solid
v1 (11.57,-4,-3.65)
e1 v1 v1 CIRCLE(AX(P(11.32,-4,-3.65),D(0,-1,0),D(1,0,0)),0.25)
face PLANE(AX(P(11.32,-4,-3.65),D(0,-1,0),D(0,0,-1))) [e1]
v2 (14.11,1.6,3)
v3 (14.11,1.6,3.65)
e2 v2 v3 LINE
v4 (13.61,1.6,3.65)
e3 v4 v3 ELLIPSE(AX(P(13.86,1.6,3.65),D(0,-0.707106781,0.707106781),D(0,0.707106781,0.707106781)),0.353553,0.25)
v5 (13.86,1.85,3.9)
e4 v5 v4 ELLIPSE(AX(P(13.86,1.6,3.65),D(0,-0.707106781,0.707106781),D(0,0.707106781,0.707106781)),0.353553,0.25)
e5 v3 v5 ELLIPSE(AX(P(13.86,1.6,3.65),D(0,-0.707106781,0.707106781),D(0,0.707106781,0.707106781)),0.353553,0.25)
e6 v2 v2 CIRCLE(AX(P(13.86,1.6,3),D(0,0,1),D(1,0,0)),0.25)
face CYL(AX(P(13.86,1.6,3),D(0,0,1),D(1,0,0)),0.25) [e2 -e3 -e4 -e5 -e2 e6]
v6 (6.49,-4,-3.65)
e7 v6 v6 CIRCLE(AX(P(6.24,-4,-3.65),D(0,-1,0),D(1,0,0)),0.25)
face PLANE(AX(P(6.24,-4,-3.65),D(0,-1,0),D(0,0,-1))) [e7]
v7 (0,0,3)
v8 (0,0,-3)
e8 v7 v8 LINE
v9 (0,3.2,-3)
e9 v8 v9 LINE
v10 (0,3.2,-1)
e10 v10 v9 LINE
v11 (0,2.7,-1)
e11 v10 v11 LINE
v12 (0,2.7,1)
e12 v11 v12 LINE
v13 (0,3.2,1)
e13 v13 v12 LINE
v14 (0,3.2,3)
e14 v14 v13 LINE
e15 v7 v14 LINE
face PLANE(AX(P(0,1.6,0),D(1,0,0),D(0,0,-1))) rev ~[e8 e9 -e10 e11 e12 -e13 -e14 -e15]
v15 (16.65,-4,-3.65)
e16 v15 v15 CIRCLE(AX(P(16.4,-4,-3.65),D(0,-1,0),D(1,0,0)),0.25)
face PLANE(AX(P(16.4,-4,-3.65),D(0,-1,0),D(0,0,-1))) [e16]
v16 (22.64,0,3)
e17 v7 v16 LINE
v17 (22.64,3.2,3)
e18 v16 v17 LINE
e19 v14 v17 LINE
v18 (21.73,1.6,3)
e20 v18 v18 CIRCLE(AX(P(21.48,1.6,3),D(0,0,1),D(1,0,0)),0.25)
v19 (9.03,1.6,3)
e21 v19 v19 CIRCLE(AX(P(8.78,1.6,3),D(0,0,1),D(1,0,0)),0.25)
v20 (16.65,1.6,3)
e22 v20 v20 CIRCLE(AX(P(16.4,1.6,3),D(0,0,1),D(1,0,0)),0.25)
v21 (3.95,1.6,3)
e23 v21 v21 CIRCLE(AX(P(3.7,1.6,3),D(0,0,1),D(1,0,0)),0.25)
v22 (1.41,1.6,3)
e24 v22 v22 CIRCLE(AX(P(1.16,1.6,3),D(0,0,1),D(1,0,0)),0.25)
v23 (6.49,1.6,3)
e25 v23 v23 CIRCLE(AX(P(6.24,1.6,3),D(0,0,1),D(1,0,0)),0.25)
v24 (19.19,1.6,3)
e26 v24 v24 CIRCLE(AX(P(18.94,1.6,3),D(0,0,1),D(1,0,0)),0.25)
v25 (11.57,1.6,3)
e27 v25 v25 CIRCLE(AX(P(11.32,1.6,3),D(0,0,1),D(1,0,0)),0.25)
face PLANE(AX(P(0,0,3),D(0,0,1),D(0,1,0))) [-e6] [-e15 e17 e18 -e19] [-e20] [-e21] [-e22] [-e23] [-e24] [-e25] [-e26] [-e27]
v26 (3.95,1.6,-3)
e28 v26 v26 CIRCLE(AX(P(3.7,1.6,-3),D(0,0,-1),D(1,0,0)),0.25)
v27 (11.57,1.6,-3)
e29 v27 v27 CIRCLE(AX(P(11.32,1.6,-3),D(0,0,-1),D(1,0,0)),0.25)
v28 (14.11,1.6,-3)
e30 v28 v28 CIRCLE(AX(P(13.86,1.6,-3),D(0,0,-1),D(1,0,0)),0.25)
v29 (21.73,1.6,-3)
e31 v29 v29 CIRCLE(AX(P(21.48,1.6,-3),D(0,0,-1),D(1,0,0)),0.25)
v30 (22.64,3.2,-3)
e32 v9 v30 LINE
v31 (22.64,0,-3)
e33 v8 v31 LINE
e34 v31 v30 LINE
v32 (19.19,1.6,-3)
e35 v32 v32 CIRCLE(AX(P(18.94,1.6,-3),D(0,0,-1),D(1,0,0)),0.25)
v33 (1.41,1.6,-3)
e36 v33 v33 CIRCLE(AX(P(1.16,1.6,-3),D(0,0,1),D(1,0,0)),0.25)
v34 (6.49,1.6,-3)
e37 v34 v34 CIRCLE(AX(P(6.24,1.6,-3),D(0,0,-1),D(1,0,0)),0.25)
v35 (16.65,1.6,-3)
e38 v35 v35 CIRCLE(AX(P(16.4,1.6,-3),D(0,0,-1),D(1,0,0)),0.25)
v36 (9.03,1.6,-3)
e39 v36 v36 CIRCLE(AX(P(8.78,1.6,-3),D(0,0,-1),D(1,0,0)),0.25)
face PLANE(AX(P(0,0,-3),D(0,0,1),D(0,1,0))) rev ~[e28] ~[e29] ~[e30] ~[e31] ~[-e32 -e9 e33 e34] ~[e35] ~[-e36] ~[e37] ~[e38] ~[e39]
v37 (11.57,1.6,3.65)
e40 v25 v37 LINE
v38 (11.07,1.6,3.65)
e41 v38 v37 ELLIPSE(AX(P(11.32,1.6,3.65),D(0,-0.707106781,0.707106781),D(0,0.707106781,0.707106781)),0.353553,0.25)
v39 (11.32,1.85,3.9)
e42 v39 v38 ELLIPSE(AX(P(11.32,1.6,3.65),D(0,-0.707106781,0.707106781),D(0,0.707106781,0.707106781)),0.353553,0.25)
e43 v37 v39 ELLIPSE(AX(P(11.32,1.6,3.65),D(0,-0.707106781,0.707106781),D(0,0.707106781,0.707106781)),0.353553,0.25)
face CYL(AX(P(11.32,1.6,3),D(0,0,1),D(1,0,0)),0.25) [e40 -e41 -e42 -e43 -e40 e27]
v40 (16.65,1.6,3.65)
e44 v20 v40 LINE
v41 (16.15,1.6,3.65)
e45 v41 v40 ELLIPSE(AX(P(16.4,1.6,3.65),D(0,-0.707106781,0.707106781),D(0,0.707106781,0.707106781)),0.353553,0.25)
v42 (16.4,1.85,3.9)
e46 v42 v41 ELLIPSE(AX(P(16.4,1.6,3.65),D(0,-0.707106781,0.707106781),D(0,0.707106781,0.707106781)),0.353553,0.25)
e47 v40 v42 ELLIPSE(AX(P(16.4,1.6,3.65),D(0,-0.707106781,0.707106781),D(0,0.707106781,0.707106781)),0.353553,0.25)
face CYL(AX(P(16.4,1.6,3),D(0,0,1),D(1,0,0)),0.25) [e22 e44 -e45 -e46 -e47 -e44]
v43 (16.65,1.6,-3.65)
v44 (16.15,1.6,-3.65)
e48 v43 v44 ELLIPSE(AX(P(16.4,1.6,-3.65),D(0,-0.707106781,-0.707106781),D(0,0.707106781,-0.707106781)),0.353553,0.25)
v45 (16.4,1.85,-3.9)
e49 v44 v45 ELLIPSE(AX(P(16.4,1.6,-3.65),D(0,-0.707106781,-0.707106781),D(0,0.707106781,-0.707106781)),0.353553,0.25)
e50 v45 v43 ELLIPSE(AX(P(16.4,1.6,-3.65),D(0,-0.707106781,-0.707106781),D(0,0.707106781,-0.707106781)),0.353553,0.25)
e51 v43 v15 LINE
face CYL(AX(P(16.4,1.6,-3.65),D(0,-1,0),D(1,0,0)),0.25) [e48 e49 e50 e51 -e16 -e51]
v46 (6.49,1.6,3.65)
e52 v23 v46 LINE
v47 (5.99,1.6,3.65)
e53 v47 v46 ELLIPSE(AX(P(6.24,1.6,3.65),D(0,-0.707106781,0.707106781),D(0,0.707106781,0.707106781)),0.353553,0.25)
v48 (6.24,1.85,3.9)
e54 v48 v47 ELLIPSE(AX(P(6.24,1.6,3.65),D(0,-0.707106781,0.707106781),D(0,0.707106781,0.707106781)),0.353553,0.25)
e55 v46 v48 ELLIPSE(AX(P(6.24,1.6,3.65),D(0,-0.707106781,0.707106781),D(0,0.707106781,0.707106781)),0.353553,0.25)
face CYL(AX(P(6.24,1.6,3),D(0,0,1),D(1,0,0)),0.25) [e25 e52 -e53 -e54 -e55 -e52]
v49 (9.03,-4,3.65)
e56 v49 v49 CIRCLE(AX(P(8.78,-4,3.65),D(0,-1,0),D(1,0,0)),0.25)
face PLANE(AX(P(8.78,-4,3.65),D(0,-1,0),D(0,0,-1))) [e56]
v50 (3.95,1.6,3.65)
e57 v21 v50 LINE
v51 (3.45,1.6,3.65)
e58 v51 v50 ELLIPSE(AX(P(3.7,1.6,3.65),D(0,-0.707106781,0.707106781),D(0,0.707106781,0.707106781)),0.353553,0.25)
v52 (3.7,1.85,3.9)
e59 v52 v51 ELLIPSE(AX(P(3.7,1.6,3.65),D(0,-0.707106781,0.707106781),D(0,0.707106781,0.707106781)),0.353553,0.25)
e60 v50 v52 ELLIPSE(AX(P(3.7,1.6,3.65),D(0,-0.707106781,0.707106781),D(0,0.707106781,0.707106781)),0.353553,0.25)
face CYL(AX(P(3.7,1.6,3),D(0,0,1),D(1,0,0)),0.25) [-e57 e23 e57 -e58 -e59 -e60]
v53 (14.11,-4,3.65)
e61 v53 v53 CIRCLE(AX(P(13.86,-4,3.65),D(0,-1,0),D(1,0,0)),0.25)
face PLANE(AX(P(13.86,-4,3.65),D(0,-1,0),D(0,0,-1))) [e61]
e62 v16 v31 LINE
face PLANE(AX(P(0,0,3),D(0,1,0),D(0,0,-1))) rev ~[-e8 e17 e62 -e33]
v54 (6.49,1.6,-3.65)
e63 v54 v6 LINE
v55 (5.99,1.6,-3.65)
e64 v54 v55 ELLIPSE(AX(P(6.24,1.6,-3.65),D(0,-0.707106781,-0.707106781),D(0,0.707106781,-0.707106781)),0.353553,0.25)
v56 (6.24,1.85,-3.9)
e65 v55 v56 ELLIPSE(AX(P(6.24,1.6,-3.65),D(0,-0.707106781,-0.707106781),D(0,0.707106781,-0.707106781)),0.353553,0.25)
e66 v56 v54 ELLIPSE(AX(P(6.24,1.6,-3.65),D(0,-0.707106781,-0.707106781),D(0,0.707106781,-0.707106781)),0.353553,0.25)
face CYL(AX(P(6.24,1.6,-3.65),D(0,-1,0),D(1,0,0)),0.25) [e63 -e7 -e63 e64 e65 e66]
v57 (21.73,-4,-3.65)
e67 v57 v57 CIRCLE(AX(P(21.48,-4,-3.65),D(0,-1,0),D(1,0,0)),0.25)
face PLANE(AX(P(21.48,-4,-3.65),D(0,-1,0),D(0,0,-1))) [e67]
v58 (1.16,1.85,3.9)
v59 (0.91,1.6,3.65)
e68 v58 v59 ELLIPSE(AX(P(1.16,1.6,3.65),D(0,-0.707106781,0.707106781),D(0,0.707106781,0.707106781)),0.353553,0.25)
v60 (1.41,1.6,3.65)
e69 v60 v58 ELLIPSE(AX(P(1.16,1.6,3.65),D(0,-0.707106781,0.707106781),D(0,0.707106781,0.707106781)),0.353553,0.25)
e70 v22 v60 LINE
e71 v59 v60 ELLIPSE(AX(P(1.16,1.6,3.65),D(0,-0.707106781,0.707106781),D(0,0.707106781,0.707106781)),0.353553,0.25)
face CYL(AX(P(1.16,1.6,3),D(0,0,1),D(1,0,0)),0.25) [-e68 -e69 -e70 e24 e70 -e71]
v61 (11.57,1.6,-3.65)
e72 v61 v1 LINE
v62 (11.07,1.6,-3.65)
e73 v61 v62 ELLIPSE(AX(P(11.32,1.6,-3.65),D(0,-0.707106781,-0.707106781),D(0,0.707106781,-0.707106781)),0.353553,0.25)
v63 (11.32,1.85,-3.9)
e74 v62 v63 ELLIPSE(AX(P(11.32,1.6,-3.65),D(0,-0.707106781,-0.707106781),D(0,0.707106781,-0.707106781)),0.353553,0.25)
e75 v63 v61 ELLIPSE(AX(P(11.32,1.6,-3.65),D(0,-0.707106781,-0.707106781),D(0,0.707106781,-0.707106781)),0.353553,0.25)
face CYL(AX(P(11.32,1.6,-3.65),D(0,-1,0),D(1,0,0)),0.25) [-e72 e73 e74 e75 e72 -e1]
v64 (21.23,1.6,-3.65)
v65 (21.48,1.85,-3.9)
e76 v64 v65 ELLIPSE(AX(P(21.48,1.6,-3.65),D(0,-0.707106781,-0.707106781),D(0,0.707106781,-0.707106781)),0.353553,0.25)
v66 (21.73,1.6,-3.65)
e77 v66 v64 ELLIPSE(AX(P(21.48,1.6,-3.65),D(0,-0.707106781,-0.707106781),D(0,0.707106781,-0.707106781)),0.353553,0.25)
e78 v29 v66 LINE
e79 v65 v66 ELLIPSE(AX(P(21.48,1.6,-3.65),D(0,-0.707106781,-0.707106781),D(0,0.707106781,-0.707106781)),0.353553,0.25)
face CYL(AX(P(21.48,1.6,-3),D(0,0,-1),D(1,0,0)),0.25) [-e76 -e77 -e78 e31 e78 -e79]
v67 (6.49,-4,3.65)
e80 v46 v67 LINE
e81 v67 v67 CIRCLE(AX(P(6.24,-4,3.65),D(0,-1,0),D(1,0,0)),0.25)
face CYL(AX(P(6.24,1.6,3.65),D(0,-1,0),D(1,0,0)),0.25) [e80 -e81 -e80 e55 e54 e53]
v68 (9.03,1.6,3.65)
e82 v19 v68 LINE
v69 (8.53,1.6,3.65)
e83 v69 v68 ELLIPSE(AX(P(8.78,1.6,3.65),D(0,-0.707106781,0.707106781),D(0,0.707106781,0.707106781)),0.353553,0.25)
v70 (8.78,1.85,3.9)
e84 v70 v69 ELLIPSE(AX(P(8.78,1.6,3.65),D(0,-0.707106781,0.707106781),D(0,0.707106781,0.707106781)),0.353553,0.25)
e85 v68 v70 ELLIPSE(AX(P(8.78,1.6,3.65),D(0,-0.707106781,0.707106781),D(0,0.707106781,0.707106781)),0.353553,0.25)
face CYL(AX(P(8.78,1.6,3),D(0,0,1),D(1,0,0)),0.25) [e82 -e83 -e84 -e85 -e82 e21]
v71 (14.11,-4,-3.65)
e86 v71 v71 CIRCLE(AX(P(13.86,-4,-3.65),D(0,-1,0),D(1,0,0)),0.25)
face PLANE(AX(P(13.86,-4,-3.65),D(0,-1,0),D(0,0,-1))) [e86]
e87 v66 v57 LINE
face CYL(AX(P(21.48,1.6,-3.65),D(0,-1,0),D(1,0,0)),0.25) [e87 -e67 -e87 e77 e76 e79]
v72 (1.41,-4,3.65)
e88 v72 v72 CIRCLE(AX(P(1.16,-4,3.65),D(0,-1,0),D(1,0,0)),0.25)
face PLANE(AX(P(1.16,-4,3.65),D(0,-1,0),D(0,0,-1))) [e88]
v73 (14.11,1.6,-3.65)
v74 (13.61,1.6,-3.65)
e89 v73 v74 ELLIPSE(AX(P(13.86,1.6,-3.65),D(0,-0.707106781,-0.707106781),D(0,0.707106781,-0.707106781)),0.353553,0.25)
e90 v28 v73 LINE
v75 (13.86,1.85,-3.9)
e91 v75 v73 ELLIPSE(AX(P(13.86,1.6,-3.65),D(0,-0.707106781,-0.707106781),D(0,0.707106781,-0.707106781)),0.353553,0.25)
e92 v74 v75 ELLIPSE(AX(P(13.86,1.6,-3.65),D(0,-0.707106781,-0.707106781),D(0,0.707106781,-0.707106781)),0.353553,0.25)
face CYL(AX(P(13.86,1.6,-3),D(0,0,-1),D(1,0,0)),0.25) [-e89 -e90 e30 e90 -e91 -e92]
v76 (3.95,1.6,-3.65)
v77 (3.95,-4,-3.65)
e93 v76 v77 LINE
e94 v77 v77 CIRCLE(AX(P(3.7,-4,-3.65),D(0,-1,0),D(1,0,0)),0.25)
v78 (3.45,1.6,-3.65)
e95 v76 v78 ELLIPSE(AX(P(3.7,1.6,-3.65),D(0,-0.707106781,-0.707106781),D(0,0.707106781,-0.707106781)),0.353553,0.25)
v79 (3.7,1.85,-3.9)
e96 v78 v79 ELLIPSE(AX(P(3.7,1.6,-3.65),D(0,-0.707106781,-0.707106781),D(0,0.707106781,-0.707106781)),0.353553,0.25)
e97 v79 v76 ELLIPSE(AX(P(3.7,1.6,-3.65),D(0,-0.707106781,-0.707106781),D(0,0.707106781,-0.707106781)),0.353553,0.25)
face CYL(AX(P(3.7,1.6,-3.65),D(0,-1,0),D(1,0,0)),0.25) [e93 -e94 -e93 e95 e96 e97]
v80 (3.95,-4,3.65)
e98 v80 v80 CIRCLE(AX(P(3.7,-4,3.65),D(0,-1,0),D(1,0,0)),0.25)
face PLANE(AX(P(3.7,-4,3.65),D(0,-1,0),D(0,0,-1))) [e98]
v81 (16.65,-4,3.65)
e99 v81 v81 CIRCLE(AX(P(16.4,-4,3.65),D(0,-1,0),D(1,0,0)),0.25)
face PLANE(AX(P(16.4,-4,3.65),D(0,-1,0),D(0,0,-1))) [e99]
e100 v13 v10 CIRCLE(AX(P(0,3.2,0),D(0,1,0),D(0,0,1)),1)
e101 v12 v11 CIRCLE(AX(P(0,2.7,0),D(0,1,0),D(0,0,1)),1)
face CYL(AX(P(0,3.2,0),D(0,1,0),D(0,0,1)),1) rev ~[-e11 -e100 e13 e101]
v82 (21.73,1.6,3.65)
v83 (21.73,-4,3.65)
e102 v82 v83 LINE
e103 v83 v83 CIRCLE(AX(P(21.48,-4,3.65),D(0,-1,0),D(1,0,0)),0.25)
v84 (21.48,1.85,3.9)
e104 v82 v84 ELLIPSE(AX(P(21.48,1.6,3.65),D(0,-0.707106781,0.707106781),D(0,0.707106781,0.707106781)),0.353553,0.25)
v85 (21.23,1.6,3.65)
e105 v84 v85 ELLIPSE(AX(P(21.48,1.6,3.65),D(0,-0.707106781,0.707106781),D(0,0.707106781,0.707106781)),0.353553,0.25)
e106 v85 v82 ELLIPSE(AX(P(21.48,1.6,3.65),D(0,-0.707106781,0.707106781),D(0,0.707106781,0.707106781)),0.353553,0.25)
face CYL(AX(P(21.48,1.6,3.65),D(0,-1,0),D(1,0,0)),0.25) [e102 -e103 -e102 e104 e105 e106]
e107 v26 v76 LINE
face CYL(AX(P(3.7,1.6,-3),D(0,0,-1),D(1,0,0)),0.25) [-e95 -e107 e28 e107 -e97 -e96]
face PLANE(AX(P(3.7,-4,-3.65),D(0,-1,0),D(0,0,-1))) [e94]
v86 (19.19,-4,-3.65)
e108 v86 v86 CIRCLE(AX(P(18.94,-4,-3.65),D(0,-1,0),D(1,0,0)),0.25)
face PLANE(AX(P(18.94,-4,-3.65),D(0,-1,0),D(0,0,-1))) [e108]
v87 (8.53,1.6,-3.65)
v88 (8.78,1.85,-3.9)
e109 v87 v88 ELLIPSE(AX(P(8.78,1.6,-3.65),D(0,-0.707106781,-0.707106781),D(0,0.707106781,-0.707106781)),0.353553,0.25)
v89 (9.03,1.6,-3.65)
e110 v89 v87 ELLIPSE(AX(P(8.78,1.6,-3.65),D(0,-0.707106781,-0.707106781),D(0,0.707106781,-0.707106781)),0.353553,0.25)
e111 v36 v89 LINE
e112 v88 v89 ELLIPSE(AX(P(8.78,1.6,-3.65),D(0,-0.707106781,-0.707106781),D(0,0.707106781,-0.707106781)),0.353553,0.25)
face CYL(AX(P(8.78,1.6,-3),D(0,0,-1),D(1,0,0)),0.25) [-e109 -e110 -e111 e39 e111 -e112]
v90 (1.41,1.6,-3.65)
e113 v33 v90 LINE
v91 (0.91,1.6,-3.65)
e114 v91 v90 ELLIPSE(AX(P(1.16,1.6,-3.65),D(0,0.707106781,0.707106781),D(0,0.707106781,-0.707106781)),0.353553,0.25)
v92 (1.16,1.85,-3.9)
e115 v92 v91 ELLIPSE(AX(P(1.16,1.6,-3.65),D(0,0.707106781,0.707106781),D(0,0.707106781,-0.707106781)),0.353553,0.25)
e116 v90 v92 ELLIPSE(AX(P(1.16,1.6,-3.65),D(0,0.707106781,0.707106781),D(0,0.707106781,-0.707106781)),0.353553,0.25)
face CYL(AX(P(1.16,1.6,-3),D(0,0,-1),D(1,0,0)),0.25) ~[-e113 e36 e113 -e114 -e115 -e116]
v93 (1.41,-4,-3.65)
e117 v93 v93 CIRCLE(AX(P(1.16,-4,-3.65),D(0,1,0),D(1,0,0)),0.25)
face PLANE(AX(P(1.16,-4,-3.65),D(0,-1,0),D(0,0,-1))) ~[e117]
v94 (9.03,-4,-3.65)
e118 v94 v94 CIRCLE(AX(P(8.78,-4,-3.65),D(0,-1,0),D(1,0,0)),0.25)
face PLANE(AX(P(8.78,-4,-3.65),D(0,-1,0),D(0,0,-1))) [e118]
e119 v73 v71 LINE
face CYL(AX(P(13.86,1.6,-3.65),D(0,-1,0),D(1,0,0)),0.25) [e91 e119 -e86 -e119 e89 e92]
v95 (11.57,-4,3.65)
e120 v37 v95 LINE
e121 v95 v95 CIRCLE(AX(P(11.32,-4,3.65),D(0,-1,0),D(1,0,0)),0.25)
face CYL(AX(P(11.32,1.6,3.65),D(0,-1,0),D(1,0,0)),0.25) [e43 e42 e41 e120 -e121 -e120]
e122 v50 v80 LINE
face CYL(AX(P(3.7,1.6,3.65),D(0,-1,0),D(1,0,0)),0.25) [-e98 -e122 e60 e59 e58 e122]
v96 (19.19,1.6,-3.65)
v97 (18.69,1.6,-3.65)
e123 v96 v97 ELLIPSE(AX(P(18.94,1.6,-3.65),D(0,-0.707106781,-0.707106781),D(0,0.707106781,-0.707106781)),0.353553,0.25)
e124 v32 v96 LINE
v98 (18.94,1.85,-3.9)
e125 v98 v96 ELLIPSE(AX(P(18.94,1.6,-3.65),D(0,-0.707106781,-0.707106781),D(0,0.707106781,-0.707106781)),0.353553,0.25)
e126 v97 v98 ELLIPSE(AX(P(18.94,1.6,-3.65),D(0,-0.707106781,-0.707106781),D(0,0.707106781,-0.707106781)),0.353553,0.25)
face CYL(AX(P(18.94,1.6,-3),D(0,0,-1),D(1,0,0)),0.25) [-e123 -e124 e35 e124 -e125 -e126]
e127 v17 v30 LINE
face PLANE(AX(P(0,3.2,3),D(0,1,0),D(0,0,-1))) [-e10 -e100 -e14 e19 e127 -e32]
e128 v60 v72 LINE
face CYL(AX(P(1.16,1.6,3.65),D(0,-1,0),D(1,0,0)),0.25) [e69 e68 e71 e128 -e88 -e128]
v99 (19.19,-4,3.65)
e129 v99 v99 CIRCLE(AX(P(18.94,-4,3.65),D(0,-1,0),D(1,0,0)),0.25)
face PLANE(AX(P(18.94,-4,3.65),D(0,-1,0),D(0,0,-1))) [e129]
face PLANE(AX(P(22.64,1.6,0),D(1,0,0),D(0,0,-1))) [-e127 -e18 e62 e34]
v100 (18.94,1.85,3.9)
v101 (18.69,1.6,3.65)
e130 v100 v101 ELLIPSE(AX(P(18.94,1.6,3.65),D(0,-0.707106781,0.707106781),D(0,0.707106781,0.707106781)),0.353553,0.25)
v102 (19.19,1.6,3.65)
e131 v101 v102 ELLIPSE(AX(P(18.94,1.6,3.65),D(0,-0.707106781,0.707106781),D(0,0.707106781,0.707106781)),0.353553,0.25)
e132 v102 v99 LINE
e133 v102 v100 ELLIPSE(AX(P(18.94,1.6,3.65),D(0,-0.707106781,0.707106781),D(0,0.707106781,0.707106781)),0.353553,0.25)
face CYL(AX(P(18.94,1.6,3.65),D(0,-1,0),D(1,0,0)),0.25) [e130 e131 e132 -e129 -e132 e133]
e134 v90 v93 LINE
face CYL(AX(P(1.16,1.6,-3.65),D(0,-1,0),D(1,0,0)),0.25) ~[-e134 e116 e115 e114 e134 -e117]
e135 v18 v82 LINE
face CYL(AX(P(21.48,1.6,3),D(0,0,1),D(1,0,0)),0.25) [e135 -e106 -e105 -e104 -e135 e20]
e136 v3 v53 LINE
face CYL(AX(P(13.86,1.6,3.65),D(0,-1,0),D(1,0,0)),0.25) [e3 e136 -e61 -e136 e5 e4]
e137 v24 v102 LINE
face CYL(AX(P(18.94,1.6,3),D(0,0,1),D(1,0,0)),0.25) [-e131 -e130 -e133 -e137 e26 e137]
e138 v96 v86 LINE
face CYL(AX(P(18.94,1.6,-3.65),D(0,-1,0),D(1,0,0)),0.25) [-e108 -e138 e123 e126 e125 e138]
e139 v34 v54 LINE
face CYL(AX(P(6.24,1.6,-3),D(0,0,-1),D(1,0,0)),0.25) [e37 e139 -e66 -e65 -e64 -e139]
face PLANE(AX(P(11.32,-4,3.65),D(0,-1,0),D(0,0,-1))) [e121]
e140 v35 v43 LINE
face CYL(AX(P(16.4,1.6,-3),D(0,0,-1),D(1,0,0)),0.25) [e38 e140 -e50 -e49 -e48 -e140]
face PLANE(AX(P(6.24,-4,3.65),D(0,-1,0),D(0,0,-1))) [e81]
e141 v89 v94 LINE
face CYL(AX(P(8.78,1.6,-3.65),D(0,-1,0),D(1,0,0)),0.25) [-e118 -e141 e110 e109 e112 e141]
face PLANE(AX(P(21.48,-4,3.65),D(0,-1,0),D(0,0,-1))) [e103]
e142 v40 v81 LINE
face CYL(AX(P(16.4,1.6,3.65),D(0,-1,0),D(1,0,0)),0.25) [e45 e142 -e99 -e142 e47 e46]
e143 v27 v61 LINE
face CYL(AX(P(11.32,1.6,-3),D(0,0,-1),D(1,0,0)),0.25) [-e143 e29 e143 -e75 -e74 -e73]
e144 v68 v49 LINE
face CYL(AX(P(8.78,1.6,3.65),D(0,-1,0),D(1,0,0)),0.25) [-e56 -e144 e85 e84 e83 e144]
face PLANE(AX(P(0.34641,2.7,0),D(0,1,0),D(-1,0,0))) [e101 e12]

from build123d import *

# Parameters (mm, degrees)
ESQUISSE1_W                          = 6
ESQUISSE1_H                          = 3.2
EXTRUSION1_DEPTH                     = 22.64
ENL_V_MAT_EXTRU_1_DEPTH              = 0.5
ESQUISSE3_R                          = 0.25
R_P_TITION_LIN_AIRE1_COUNT           = 9
R_P_TITION_LIN_AIRE1_PITCH           = 2.54
R_P_TITION_LIN_AIRE1_COPY_1_SKETCH_R = 0.25
R_P_TITION_LIN_AIRE1_COPY_2_SKETCH_R = 0.25
R_P_TITION_LIN_AIRE1_COPY_3_SKETCH_R = 0.25
R_P_TITION_LIN_AIRE1_COPY_4_SKETCH_R = 0.25
R_P_TITION_LIN_AIRE1_COPY_5_SKETCH_R = 0.25
R_P_TITION_LIN_AIRE1_COPY_6_SKETCH_R = 0.25
R_P_TITION_LIN_AIRE1_COPY_7_SKETCH_R = 0.25
R_P_TITION_LIN_AIRE1_COPY_8_SKETCH_R = 0.25


with BuildPart() as part:
    # Esquisse1 → Extrusion1 (new body)
    with BuildSketch(Plane(origin=(0, 0, 0), x_dir=(0, 0, -1), z_dir=(1, 0, 0))):
        with Locations((0, 1.6)):
            Rectangle(ESQUISSE1_W, ESQUISSE1_H)
    extrude(amount=EXTRUSION1_DEPTH)

    # Esquisse2 → Enlèv. mat.-Extru.1 (cut)
    with BuildSketch(Plane(origin=(0, 3.2, 0), x_dir=(-1, 0, 0), z_dir=(0, 1, 0))):
        with BuildLine():
            Line((0, -1), (0, 1))
            ThreePointArc((0, 1), (-1, 0), (0, -1))
        make_face()
    extrude(amount=-ENL_V_MAT_EXTRU_1_DEPTH, mode=Mode.SUBTRACT)

    # Balayage1: sweep along a path in Esquisse5
    with BuildLine(Plane(origin=(1.16, 0, 0), x_dir=(0, 0, -1), z_dir=(1, 0, 0))) as balayage1_path:
        Line((-3, 1.6), (-3.65, 1.6))
        Line((-3.65, 1.6), (-3.65, -4))
    # Esquisse3 → Balayage1 (sweep)
    with BuildSketch(Plane.XY.offset(3)):
        with Locations((1.16, 1.6)):
            Circle(ESQUISSE3_R)
    balayage1 = sweep(path=balayage1_path.line, transition=Transition.RIGHT)

    # Symétrie1: Balayage1 across plane
    add(balayage1.mirror(Plane.XY))

    # Répétition linéaire1: Balayage1 ×9
    with Locations(*[(i * R_P_TITION_LIN_AIRE1_PITCH, 0, 0) for i in range(1, R_P_TITION_LIN_AIRE1_COUNT)]):
        add(balayage1)

    # Répétition linéaire1 copy 1: sweep along a path in Répétition linéaire1 copy 1 path
    with BuildLine(Plane(origin=(3.7, 0, 0), x_dir=(0, 0, 1), z_dir=(1, 0, 0))) as r_p_tition_lin_aire1_copy_1_path:
        Line((-3, -1.6), (-3.65, -1.6))
        Line((-3.65, -1.6), (-3.65, 4))
    # Répétition linéaire1 copy 1 sketch → Répétition linéaire1 copy 1 (sweep)
    with BuildSketch(Plane(origin=(2.54, 0, -3), x_dir=(1, 0, 0), z_dir=(0, 0, -1))):
        with Locations((1.16, -1.6)):
            Circle(R_P_TITION_LIN_AIRE1_COPY_1_SKETCH_R)
    sweep(path=r_p_tition_lin_aire1_copy_1_path.line, transition=Transition.RIGHT)

    # Répétition linéaire1 copy 2: sweep along a path in Répétition linéaire1 copy 2 path
    with BuildLine(Plane(origin=(6.24, 0, 0), x_dir=(0, 0, 1), z_dir=(1, 0, 0))) as r_p_tition_lin_aire1_copy_2_path:
        Line((-3, -1.6), (-3.65, -1.6))
        Line((-3.65, -1.6), (-3.65, 4))
    # Répétition linéaire1 copy 2 sketch → Répétition linéaire1 copy 2 (sweep)
    with BuildSketch(Plane(origin=(5.08, 0, -3), x_dir=(1, 0, 0), z_dir=(0, 0, -1))):
        with Locations((1.16, -1.6)):
            Circle(R_P_TITION_LIN_AIRE1_COPY_2_SKETCH_R)
    sweep(path=r_p_tition_lin_aire1_copy_2_path.line, transition=Transition.RIGHT)

    # Répétition linéaire1 copy 3: sweep along a path in Répétition linéaire1 copy 3 path
    with BuildLine(Plane(origin=(8.78, 0, 0), x_dir=(0, 0, 1), z_dir=(1, 0, 0))) as r_p_tition_lin_aire1_copy_3_path:
        Line((-3, -1.6), (-3.65, -1.6))
        Line((-3.65, -1.6), (-3.65, 4))
    # Répétition linéaire1 copy 3 sketch → Répétition linéaire1 copy 3 (sweep)
    with BuildSketch(Plane(origin=(7.62, 0, -3), x_dir=(1, 0, 0), z_dir=(0, 0, -1))):
        with Locations((1.16, -1.6)):
            Circle(R_P_TITION_LIN_AIRE1_COPY_3_SKETCH_R)
    sweep(path=r_p_tition_lin_aire1_copy_3_path.line, transition=Transition.RIGHT)

    # Répétition linéaire1 copy 4: sweep along a path in Répétition linéaire1 copy 4 path
    with BuildLine(Plane(origin=(11.32, 0, 0), x_dir=(0, 0, 1), z_dir=(1, 0, 0))) as r_p_tition_lin_aire1_copy_4_path:
        Line((-3, -1.6), (-3.65, -1.6))
        Line((-3.65, -1.6), (-3.65, 4))
    # Répétition linéaire1 copy 4 sketch → Répétition linéaire1 copy 4 (sweep)
    with BuildSketch(Plane(origin=(10.16, 0, -3), x_dir=(1, 0, 0), z_dir=(0, 0, -1))):
        with Locations((1.16, -1.6)):
            Circle(R_P_TITION_LIN_AIRE1_COPY_4_SKETCH_R)
    sweep(path=r_p_tition_lin_aire1_copy_4_path.line, transition=Transition.RIGHT)

    # Répétition linéaire1 copy 5: sweep along a path in Répétition linéaire1 copy 5 path
    with BuildLine(Plane(origin=(13.86, 0, 0), x_dir=(0, 0, 1), z_dir=(1, 0, 0))) as r_p_tition_lin_aire1_copy_5_path:
        Line((-3, -1.6), (-3.65, -1.6))
        Line((-3.65, -1.6), (-3.65, 4))
    # Répétition linéaire1 copy 5 sketch → Répétition linéaire1 copy 5 (sweep)
    with BuildSketch(Plane(origin=(12.7, 0, -3), x_dir=(1, 0, 0), z_dir=(0, 0, -1))):
        with Locations((1.16, -1.6)):
            Circle(R_P_TITION_LIN_AIRE1_COPY_5_SKETCH_R)
    sweep(path=r_p_tition_lin_aire1_copy_5_path.line, transition=Transition.RIGHT)

    # Répétition linéaire1 copy 6: sweep along a path in Répétition linéaire1 copy 6 path
    with BuildLine(Plane(origin=(16.4, 0, 0), x_dir=(0, 0, 1), z_dir=(1, 0, 0))) as r_p_tition_lin_aire1_copy_6_path:
        Line((-3, -1.6), (-3.65, -1.6))
        Line((-3.65, -1.6), (-3.65, 4))
    # Répétition linéaire1 copy 6 sketch → Répétition linéaire1 copy 6 (sweep)
    with BuildSketch(Plane(origin=(15.24, 0, -3), x_dir=(1, 0, 0), z_dir=(0, 0, -1))):
        with Locations((1.16, -1.6)):
            Circle(R_P_TITION_LIN_AIRE1_COPY_6_SKETCH_R)
    sweep(path=r_p_tition_lin_aire1_copy_6_path.line, transition=Transition.RIGHT)

    # Répétition linéaire1 copy 7: sweep along a path in Répétition linéaire1 copy 7 path
    with BuildLine(Plane(origin=(18.94, 0, 0), x_dir=(0, 0, 1), z_dir=(1, 0, 0))) as r_p_tition_lin_aire1_copy_7_path:
        Line((-3, -1.6), (-3.65, -1.6))
        Line((-3.65, -1.6), (-3.65, 4))
    # Répétition linéaire1 copy 7 sketch → Répétition linéaire1 copy 7 (sweep)
    with BuildSketch(Plane(origin=(17.78, 0, -3), x_dir=(1, 0, 0), z_dir=(0, 0, -1))):
        with Locations((1.16, -1.6)):
            Circle(R_P_TITION_LIN_AIRE1_COPY_7_SKETCH_R)
    sweep(path=r_p_tition_lin_aire1_copy_7_path.line, transition=Transition.RIGHT)

    # Répétition linéaire1 copy 8: sweep along a path in Répétition linéaire1 copy 8 path
    with BuildLine(Plane(origin=(21.48, 0, 0), x_dir=(0, 0, 1), z_dir=(1, 0, 0))) as r_p_tition_lin_aire1_copy_8_path:
        Line((-3, -1.6), (-3.65, -1.6))
        Line((-3.65, -1.6), (-3.65, 4))
    # Répétition linéaire1 copy 8 sketch → Répétition linéaire1 copy 8 (sweep)
    with BuildSketch(Plane(origin=(20.32, 0, -3), x_dir=(1, 0, 0), z_dir=(0, 0, -1))):
        with Locations((1.16, -1.6)):
            Circle(R_P_TITION_LIN_AIRE1_COPY_8_SKETCH_R)
    sweep(path=r_p_tition_lin_aire1_copy_8_path.line, transition=Transition.RIGHT)


solid = part.part
